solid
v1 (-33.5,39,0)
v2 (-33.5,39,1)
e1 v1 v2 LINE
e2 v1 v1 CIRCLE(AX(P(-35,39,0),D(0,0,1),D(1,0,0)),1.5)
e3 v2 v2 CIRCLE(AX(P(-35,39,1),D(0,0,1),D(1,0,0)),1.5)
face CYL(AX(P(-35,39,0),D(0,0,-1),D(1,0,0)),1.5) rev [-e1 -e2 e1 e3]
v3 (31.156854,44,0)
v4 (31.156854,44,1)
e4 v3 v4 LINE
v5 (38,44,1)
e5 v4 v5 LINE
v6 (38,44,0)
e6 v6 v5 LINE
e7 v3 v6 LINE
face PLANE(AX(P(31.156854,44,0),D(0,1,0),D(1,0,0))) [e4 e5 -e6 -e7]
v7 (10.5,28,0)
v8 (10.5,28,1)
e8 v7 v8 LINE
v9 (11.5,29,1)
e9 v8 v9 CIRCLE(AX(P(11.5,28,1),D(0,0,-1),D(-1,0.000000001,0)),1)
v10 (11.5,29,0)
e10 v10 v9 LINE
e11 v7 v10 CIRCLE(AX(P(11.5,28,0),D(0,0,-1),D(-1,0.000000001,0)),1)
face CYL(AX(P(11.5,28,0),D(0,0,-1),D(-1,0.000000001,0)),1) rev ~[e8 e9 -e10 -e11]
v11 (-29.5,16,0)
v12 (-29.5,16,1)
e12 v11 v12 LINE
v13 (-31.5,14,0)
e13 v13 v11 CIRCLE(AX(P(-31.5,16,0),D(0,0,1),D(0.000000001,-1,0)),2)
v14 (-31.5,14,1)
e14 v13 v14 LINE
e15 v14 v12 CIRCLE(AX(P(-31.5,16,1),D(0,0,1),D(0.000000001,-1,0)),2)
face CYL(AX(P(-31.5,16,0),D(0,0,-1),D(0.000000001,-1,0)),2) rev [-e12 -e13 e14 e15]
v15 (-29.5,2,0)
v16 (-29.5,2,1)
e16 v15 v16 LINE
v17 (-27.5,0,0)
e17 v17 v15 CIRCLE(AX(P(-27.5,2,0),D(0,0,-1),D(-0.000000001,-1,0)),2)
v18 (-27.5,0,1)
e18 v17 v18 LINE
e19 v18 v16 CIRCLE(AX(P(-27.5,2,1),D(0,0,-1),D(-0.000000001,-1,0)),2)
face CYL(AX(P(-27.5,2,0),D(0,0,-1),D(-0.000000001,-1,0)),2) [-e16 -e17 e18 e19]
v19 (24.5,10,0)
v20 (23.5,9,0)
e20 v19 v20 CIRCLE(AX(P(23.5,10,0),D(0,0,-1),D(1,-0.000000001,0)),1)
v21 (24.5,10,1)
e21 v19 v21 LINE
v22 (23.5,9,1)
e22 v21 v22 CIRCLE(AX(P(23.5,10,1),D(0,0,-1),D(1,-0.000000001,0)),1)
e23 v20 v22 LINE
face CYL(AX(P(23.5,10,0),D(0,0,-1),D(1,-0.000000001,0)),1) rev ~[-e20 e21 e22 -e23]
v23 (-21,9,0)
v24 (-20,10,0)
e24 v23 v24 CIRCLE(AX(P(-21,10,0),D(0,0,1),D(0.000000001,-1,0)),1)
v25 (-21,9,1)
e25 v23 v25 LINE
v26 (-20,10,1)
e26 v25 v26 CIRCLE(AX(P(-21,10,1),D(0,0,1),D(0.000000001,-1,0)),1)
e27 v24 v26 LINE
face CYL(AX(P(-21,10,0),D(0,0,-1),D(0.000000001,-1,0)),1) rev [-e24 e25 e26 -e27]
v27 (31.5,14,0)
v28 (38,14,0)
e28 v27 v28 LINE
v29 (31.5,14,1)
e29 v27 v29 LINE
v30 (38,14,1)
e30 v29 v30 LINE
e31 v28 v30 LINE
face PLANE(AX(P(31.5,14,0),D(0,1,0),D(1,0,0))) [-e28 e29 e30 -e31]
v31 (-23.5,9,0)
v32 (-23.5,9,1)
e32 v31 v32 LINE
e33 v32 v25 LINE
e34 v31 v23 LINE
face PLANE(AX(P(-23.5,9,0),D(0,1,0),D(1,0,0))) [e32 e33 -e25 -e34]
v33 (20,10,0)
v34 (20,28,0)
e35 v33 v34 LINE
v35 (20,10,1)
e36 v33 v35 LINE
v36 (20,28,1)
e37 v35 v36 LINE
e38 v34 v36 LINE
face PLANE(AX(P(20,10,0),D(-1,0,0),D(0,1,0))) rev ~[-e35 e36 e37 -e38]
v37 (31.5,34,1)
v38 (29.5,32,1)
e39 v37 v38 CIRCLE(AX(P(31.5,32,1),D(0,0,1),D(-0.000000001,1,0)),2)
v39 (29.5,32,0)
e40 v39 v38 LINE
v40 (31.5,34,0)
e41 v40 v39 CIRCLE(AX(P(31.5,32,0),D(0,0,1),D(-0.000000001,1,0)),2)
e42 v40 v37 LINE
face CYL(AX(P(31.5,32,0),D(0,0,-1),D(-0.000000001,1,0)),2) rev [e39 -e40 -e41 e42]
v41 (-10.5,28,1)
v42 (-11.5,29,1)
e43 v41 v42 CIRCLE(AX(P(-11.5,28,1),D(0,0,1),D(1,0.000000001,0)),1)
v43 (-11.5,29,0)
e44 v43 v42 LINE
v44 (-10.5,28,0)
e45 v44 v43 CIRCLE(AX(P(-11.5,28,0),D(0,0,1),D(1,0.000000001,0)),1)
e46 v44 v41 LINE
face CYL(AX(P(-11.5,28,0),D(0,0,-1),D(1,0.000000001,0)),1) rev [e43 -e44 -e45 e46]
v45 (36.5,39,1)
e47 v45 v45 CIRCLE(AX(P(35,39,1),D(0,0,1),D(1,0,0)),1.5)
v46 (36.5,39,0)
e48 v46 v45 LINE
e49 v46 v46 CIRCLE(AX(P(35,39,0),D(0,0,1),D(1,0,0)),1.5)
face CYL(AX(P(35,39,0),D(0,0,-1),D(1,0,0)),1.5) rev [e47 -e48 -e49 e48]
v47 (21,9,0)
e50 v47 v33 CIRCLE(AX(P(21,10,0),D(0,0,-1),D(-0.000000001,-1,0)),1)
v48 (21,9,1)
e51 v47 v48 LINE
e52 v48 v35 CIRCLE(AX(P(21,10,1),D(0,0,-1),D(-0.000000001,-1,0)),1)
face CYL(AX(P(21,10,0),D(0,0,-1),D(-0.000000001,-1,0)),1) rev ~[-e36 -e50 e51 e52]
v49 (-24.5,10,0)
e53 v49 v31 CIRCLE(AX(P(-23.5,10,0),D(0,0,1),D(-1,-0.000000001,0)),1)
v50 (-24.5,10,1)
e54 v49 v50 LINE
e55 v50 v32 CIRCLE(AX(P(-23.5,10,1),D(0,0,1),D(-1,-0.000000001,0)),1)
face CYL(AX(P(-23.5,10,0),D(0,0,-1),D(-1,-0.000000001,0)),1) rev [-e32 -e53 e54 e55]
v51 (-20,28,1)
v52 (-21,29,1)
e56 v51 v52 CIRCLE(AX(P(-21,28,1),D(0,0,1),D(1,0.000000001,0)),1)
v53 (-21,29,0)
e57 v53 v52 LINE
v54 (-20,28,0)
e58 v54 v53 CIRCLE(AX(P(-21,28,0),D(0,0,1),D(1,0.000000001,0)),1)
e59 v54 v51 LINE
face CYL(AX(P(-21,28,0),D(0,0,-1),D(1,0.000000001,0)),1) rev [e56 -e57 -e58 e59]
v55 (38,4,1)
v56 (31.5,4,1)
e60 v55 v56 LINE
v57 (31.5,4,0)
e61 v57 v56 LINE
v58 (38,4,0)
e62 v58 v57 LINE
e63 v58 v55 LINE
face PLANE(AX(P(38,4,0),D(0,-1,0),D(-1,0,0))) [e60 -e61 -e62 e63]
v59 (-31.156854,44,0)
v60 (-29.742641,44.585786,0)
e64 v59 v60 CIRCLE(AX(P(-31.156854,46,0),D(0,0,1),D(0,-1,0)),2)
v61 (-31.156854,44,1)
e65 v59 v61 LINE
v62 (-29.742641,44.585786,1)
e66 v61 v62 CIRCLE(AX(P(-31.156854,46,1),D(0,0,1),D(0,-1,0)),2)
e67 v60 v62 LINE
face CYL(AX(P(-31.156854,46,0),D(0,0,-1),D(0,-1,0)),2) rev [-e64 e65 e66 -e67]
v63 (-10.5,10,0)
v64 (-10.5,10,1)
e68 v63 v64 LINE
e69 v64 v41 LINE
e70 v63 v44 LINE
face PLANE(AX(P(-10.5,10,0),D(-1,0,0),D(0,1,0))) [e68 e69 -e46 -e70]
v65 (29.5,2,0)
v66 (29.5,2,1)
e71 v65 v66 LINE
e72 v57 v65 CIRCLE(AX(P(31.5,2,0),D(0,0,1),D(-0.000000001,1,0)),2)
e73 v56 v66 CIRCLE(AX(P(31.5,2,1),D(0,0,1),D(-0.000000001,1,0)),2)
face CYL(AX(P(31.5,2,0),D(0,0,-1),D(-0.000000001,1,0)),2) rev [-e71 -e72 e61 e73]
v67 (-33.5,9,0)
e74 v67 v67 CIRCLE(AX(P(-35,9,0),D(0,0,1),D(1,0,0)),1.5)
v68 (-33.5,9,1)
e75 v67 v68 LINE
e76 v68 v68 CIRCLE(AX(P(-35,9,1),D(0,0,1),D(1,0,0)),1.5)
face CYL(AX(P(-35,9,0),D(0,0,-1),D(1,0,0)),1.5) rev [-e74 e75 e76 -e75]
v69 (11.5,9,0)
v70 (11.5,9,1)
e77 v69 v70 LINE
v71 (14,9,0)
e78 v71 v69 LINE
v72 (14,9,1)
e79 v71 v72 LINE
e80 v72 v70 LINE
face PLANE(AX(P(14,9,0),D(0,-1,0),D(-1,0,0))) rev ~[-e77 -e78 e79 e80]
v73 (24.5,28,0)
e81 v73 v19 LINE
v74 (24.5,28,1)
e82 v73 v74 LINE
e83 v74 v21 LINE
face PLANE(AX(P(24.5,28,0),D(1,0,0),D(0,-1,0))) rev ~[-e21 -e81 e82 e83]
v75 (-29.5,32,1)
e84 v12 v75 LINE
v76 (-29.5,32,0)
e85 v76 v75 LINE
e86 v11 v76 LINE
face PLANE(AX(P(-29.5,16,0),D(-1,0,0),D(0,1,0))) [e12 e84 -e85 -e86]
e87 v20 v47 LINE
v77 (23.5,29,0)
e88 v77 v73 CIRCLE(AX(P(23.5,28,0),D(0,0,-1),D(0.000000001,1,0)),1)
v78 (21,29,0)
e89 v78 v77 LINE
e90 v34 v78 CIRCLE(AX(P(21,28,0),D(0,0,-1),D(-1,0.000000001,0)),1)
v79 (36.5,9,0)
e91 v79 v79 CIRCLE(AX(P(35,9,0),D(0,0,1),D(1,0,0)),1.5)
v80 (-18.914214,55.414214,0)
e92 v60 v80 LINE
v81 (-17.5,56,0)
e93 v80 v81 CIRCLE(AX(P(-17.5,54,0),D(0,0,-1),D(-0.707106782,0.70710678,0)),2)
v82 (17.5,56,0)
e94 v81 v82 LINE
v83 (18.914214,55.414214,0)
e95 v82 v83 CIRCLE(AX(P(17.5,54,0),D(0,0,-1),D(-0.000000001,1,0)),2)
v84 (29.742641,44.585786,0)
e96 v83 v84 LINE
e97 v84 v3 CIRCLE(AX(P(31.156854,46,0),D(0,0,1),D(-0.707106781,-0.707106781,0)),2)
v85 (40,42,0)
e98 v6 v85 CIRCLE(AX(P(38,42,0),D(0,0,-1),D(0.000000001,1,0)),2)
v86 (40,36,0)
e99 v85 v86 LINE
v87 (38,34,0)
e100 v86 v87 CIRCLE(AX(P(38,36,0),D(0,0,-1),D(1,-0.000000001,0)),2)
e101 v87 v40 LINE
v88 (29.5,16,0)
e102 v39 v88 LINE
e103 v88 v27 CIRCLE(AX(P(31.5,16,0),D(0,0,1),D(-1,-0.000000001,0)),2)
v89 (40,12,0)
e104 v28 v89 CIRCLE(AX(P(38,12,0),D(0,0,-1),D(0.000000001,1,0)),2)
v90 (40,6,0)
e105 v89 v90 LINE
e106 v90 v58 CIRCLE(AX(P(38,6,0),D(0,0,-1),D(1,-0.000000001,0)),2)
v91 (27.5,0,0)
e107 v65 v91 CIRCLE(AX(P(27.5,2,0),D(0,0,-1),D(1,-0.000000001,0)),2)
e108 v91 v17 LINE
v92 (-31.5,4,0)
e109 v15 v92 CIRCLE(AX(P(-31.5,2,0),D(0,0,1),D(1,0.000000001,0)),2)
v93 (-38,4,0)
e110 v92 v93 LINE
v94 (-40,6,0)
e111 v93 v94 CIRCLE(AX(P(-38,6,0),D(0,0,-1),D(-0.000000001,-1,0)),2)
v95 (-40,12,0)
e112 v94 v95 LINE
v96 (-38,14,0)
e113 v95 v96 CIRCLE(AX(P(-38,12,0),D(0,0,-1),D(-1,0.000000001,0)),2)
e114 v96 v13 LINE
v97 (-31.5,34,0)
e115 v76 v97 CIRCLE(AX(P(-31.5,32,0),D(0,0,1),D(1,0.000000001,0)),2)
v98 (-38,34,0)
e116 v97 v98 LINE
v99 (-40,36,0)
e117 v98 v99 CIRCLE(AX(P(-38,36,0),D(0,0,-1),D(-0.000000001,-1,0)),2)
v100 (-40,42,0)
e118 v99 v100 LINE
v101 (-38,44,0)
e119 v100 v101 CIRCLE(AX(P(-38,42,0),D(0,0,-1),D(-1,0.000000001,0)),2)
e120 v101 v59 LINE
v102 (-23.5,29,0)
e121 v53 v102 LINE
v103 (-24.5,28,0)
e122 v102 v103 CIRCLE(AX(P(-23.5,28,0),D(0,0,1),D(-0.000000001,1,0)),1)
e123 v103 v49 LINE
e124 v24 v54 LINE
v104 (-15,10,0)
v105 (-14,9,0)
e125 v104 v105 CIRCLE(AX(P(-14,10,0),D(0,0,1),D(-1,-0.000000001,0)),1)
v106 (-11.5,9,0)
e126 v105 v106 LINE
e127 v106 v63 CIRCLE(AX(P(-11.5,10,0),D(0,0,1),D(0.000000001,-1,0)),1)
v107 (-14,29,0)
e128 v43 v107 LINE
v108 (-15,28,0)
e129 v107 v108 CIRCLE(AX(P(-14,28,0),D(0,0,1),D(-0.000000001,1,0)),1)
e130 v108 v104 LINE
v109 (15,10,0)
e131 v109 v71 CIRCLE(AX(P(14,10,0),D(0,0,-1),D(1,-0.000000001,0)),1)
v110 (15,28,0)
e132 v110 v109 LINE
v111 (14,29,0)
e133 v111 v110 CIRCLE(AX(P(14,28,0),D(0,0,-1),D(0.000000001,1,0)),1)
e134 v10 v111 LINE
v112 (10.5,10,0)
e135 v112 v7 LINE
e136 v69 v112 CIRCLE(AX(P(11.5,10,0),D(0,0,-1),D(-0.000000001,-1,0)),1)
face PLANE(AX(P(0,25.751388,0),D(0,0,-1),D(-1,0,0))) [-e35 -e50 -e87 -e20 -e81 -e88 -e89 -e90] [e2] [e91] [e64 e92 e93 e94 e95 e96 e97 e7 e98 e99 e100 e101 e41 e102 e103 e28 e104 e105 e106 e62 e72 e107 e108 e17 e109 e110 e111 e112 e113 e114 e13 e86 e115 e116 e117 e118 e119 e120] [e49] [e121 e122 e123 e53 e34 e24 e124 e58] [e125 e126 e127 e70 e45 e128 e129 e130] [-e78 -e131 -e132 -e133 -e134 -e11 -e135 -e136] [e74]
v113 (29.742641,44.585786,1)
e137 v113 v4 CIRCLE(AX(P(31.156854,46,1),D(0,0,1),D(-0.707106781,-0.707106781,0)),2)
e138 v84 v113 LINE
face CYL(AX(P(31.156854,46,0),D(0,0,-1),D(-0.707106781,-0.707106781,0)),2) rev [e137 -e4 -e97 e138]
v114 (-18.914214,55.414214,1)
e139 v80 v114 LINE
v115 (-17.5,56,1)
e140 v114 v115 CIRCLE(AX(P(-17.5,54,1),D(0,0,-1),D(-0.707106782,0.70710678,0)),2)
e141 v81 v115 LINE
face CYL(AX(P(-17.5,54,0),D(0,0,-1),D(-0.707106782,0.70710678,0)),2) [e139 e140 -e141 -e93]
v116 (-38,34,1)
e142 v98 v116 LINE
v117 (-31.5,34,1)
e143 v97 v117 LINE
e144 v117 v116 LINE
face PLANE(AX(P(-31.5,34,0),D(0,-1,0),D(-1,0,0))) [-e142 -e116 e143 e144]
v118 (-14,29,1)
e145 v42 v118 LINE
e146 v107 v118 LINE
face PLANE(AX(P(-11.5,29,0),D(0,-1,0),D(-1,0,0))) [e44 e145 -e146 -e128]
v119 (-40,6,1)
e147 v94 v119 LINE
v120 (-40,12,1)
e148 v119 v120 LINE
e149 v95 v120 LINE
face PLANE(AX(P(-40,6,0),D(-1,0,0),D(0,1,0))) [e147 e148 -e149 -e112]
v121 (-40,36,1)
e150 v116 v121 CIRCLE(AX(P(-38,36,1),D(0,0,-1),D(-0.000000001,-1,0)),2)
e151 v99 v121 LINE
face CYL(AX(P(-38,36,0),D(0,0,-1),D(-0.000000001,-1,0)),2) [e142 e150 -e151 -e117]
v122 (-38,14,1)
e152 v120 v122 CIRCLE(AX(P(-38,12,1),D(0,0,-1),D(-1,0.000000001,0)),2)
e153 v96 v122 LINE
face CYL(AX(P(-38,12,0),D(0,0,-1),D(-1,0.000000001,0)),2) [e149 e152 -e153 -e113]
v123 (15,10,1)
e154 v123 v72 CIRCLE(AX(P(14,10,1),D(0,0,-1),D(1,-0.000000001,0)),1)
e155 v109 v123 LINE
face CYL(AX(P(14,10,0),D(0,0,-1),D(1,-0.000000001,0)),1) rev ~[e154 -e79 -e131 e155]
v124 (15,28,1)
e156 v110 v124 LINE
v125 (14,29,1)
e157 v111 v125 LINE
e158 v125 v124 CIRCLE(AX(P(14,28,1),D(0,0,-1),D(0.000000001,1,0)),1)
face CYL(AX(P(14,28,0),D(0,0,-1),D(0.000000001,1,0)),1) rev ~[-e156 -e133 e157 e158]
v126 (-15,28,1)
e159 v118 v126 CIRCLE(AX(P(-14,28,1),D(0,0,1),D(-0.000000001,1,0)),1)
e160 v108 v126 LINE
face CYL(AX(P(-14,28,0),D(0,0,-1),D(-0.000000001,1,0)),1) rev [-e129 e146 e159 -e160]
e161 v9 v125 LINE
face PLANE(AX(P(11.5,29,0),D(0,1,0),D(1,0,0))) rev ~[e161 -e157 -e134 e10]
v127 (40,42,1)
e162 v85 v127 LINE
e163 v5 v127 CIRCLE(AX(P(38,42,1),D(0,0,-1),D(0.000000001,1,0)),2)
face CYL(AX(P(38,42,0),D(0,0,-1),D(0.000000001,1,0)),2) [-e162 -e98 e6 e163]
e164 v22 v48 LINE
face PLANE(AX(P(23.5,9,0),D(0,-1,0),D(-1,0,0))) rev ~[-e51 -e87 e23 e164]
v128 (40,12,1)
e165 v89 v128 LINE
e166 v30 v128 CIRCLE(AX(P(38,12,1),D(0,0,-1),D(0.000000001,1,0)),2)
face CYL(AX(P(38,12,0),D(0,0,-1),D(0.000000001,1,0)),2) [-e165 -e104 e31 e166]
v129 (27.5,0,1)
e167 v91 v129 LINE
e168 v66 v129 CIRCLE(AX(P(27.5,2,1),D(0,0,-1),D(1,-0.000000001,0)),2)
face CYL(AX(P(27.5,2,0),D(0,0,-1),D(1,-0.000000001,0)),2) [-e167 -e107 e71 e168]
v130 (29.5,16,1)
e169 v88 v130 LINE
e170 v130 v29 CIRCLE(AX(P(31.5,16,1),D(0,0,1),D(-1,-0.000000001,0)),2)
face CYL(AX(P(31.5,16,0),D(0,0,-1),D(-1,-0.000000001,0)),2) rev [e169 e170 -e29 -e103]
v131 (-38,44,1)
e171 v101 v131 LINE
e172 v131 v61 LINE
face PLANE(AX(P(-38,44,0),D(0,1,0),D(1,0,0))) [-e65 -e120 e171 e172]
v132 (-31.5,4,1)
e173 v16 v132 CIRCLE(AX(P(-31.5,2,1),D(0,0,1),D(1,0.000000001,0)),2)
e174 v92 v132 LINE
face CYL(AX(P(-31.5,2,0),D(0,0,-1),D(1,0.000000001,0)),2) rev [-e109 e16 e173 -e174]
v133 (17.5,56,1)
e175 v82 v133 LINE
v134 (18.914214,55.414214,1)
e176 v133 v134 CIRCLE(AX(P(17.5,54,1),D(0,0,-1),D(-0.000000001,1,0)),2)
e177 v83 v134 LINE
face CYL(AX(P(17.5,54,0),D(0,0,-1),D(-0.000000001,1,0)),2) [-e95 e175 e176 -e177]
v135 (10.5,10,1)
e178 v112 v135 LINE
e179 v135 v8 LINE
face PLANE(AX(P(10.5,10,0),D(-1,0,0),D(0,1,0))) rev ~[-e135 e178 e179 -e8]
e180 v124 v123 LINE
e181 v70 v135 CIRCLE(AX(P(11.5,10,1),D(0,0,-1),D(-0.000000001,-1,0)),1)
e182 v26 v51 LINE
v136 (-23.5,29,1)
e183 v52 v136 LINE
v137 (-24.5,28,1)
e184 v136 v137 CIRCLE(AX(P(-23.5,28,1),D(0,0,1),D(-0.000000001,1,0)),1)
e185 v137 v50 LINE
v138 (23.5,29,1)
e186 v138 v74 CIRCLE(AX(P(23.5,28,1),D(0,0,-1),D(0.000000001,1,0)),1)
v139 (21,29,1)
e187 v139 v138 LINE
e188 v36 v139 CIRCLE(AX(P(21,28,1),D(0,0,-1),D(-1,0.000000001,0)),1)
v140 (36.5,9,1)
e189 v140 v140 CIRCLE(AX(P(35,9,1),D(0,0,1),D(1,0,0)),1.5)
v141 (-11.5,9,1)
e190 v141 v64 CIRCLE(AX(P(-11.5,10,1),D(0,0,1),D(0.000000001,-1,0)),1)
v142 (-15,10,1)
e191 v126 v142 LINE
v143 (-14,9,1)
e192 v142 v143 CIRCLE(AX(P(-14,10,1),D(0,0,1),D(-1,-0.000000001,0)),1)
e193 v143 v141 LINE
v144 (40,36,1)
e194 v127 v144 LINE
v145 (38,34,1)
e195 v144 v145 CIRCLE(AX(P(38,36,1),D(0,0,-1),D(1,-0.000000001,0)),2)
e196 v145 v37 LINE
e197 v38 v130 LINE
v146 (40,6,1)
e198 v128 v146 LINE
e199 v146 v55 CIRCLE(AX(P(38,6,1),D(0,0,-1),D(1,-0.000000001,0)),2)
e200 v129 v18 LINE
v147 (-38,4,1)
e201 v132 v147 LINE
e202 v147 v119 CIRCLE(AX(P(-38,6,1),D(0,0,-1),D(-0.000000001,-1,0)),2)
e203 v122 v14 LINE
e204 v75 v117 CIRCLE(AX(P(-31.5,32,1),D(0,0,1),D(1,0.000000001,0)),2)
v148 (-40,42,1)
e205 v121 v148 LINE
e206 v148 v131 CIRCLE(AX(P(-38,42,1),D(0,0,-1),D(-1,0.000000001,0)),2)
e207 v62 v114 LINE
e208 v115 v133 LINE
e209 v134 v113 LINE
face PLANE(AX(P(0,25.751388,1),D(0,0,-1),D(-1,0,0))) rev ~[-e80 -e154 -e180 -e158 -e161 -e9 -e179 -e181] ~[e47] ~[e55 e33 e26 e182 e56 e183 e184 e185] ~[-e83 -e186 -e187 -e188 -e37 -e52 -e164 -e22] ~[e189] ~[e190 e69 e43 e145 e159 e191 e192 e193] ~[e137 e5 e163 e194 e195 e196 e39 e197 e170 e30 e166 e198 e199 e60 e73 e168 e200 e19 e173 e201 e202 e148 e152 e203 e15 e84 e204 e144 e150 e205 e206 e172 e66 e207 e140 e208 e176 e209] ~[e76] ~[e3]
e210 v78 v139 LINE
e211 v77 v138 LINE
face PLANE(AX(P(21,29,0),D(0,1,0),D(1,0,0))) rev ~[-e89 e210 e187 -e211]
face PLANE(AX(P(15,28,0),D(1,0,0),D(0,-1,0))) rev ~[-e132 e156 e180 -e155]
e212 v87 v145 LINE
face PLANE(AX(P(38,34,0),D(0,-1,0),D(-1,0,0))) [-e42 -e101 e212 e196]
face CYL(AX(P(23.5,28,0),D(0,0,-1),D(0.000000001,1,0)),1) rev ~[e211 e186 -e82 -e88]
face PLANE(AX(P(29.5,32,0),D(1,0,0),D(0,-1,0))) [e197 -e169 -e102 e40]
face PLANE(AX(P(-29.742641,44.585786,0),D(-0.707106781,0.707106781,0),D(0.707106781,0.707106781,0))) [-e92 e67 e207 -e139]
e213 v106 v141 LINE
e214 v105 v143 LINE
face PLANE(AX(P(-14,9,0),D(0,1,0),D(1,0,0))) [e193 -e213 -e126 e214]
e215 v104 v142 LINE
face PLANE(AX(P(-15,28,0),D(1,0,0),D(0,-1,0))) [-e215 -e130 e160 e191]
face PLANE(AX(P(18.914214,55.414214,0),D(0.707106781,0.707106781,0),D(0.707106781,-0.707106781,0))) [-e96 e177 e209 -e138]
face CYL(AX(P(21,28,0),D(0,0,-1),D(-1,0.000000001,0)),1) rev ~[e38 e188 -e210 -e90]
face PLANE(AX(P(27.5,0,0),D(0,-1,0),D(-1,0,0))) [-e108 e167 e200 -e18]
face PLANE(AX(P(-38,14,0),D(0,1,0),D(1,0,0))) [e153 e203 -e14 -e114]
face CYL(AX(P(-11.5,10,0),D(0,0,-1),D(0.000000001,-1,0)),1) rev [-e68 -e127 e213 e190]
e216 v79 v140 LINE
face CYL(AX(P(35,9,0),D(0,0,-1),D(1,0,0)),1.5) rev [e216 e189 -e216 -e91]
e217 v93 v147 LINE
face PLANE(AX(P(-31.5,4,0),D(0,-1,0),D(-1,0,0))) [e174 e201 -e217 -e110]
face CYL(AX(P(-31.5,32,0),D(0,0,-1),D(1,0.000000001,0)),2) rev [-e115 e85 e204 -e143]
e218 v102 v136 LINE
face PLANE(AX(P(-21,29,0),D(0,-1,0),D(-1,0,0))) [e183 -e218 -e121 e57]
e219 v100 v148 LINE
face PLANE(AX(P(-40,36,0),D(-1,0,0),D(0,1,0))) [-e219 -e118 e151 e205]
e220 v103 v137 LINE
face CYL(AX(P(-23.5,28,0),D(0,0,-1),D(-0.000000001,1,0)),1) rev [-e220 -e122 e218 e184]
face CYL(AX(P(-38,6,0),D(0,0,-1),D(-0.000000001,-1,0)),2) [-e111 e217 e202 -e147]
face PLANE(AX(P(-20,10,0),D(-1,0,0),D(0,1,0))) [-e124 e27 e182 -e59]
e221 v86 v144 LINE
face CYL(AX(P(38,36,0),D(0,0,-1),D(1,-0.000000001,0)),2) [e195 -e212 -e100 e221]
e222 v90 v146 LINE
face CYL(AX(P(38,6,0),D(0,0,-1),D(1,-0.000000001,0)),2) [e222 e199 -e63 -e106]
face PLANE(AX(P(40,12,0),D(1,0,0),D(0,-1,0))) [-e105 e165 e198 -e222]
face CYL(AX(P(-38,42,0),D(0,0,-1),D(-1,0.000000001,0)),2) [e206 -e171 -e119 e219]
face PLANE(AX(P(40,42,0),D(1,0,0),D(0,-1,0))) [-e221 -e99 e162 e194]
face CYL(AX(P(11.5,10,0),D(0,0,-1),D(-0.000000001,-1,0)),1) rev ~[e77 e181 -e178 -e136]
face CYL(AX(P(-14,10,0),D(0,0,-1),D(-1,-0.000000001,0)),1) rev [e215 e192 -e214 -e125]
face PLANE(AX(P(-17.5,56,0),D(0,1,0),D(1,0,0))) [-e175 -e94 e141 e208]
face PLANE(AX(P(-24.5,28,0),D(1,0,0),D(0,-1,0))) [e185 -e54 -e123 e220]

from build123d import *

# Parameters (mm, degrees)
MODEL_R         = 1.5
EXTRUDE_1_DEPTH = 1


with BuildPart() as part:
    # Model → Бобышка-Вытянуть1 (new body)
    with BuildSketch(Plane.XY):
        with BuildLine():
            Line((-29.5, 16), (-29.5, 32))
            ThreePointArc((-29.5, 32), (-30.085786438, 33.414213562), (-31.5, 34))
            Line((-31.5, 34), (-38, 34))
            ThreePointArc((-38, 34), (-39.414213562, 34.585786438), (-40, 36))
            Line((-40, 36), (-40, 42))
            ThreePointArc((-40, 42), (-39.414213562, 43.414213562), (-38, 44))
            Line((-38, 44), (-31.156854249, 44))
            ThreePointArc((-31.156854249, 44), (-30.391487385, 44.152240935), (-29.742640687, 44.585786438))
            Line((-29.742640687, 44.585786438), (-18.914213562, 55.414213562))
            ThreePointArc((-18.914213562, 55.414213562), (-18.265366865, 55.847759065), (-17.5, 56))
            Line((-17.5, 56), (0, 56))
            Line((0, 56), (17.5, 56))
            ThreePointArc((17.5, 56), (18.265366865, 55.847759065), (18.914213562, 55.414213562))
            Line((18.914213562, 55.414213562), (29.742640687, 44.585786438))
            ThreePointArc((29.742640687, 44.585786438), (30.391487385, 44.152240935), (31.156854249, 44))
            Line((31.156854249, 44), (38, 44))
            ThreePointArc((38, 44), (39.414213562, 43.414213562), (40, 42))
            Line((40, 42), (40, 36))
            ThreePointArc((40, 36), (39.414213562, 34.585786438), (38, 34))
            Line((38, 34), (31.5, 34))
            ThreePointArc((31.5, 34), (30.085786438, 33.414213562), (29.5, 32))
            Line((29.5, 32), (29.5, 16))
            ThreePointArc((29.5, 16), (30.085786438, 14.585786438), (31.5, 14))
            Line((31.5, 14), (38, 14))
            ThreePointArc((38, 14), (39.414213562, 13.414213562), (40, 12))
            Line((40, 12), (40, 6))
            ThreePointArc((40, 6), (39.414213562, 4.585786438), (38, 4))
            Line((38, 4), (31.5, 4))
            ThreePointArc((31.5, 4), (30.085786438, 3.414213562), (29.5, 2))
            ThreePointArc((29.5, 2), (28.914213562, 0.585786438), (27.5, 0))
            Line((27.5, 0), (0, 0))
            Line((0, 0), (-27.5, 0))
            ThreePointArc((-27.5, 0), (-28.914213562, 0.585786438), (-29.5, 2))
            ThreePointArc((-29.5, 2), (-30.085786438, 3.414213562), (-31.5, 4))
            Line((-31.5, 4), (-38, 4))
            ThreePointArc((-38, 4), (-39.414213562, 4.585786438), (-40, 6))
            Line((-40, 6), (-40, 12))
            ThreePointArc((-40, 12), (-39.414213562, 13.414213562), (-38, 14))
            Line((-38, 14), (-31.5, 14))
            ThreePointArc((-31.5, 14), (-30.085786438, 14.585786438), (-29.5, 16))
        make_face()
        with Locations((-35, 9)):
            Circle(MODEL_R, mode=Mode.SUBTRACT)
        with Locations((-35, 39)):
            Circle(MODEL_R, mode=Mode.SUBTRACT)
        with Locations((35, 9)):
            Circle(MODEL_R, mode=Mode.SUBTRACT)
        with Locations((35, 39)):
            Circle(MODEL_R, mode=Mode.SUBTRACT)
        with BuildLine():
            Line((-23.5, 9), (-21, 9))
            ThreePointArc((-21, 9), (-20.292893219, 9.292893219), (-20, 10))
            Line((-20, 10), (-20, 28))
            ThreePointArc((-20, 28), (-20.292893219, 28.707106781), (-21, 29))
            Line((-21, 29), (-23.5, 29))
            ThreePointArc((-23.5, 29), (-24.207106781, 28.707106781), (-24.5, 28))
            Line((-24.5, 28), (-24.5, 10))
            ThreePointArc((-24.5, 10), (-24.207106781, 9.292893219), (-23.5, 9))
        make_face(mode=Mode.SUBTRACT)
        with BuildLine():
            Line((-14, 9), (-11.5, 9))
            ThreePointArc((-11.5, 9), (-10.792893219, 9.292893219), (-10.5, 10))
            Line((-10.5, 10), (-10.5, 28))
            ThreePointArc((-10.5, 28), (-10.792893219, 28.707106781), (-11.5, 29))
            Line((-11.5, 29), (-14, 29))
            ThreePointArc((-14, 29), (-14.707106781, 28.707106781), (-15, 28))
            Line((-15, 28), (-15, 10))
            ThreePointArc((-15, 10), (-14.707106781, 9.292893219), (-14, 9))
        make_face(mode=Mode.SUBTRACT)
        with BuildLine():
            Line((23.5, 9), (21, 9))
            ThreePointArc((21, 9), (20.292893219, 9.292893219), (20, 10))
            Line((20, 10), (20, 28))
            ThreePointArc((20, 28), (20.292893219, 28.707106781), (21, 29))
            Line((21, 29), (23.5, 29))
            ThreePointArc((23.5, 29), (24.207106781, 28.707106781), (24.5, 28))
            Line((24.5, 28), (24.5, 10))
            ThreePointArc((24.5, 10), (24.207106781, 9.292893219), (23.5, 9))
        make_face(mode=Mode.SUBTRACT)
        with BuildLine():
            Line((14, 9), (11.5, 9))
            ThreePointArc((11.5, 9), (10.792893219, 9.292893219), (10.5, 10))
            Line((10.5, 10), (10.5, 28))
            ThreePointArc((10.5, 28), (10.792893219, 28.707106781), (11.5, 29))
            Line((11.5, 29), (14, 29))
            ThreePointArc((14, 29), (14.707106781, 28.707106781), (15, 28))
            Line((15, 28), (15, 10))
            ThreePointArc((15, 10), (14.707106781, 9.292893219), (14, 9))
        make_face(mode=Mode.SUBTRACT)
    extrude(amount=EXTRUDE_1_DEPTH)


solid = part.part
